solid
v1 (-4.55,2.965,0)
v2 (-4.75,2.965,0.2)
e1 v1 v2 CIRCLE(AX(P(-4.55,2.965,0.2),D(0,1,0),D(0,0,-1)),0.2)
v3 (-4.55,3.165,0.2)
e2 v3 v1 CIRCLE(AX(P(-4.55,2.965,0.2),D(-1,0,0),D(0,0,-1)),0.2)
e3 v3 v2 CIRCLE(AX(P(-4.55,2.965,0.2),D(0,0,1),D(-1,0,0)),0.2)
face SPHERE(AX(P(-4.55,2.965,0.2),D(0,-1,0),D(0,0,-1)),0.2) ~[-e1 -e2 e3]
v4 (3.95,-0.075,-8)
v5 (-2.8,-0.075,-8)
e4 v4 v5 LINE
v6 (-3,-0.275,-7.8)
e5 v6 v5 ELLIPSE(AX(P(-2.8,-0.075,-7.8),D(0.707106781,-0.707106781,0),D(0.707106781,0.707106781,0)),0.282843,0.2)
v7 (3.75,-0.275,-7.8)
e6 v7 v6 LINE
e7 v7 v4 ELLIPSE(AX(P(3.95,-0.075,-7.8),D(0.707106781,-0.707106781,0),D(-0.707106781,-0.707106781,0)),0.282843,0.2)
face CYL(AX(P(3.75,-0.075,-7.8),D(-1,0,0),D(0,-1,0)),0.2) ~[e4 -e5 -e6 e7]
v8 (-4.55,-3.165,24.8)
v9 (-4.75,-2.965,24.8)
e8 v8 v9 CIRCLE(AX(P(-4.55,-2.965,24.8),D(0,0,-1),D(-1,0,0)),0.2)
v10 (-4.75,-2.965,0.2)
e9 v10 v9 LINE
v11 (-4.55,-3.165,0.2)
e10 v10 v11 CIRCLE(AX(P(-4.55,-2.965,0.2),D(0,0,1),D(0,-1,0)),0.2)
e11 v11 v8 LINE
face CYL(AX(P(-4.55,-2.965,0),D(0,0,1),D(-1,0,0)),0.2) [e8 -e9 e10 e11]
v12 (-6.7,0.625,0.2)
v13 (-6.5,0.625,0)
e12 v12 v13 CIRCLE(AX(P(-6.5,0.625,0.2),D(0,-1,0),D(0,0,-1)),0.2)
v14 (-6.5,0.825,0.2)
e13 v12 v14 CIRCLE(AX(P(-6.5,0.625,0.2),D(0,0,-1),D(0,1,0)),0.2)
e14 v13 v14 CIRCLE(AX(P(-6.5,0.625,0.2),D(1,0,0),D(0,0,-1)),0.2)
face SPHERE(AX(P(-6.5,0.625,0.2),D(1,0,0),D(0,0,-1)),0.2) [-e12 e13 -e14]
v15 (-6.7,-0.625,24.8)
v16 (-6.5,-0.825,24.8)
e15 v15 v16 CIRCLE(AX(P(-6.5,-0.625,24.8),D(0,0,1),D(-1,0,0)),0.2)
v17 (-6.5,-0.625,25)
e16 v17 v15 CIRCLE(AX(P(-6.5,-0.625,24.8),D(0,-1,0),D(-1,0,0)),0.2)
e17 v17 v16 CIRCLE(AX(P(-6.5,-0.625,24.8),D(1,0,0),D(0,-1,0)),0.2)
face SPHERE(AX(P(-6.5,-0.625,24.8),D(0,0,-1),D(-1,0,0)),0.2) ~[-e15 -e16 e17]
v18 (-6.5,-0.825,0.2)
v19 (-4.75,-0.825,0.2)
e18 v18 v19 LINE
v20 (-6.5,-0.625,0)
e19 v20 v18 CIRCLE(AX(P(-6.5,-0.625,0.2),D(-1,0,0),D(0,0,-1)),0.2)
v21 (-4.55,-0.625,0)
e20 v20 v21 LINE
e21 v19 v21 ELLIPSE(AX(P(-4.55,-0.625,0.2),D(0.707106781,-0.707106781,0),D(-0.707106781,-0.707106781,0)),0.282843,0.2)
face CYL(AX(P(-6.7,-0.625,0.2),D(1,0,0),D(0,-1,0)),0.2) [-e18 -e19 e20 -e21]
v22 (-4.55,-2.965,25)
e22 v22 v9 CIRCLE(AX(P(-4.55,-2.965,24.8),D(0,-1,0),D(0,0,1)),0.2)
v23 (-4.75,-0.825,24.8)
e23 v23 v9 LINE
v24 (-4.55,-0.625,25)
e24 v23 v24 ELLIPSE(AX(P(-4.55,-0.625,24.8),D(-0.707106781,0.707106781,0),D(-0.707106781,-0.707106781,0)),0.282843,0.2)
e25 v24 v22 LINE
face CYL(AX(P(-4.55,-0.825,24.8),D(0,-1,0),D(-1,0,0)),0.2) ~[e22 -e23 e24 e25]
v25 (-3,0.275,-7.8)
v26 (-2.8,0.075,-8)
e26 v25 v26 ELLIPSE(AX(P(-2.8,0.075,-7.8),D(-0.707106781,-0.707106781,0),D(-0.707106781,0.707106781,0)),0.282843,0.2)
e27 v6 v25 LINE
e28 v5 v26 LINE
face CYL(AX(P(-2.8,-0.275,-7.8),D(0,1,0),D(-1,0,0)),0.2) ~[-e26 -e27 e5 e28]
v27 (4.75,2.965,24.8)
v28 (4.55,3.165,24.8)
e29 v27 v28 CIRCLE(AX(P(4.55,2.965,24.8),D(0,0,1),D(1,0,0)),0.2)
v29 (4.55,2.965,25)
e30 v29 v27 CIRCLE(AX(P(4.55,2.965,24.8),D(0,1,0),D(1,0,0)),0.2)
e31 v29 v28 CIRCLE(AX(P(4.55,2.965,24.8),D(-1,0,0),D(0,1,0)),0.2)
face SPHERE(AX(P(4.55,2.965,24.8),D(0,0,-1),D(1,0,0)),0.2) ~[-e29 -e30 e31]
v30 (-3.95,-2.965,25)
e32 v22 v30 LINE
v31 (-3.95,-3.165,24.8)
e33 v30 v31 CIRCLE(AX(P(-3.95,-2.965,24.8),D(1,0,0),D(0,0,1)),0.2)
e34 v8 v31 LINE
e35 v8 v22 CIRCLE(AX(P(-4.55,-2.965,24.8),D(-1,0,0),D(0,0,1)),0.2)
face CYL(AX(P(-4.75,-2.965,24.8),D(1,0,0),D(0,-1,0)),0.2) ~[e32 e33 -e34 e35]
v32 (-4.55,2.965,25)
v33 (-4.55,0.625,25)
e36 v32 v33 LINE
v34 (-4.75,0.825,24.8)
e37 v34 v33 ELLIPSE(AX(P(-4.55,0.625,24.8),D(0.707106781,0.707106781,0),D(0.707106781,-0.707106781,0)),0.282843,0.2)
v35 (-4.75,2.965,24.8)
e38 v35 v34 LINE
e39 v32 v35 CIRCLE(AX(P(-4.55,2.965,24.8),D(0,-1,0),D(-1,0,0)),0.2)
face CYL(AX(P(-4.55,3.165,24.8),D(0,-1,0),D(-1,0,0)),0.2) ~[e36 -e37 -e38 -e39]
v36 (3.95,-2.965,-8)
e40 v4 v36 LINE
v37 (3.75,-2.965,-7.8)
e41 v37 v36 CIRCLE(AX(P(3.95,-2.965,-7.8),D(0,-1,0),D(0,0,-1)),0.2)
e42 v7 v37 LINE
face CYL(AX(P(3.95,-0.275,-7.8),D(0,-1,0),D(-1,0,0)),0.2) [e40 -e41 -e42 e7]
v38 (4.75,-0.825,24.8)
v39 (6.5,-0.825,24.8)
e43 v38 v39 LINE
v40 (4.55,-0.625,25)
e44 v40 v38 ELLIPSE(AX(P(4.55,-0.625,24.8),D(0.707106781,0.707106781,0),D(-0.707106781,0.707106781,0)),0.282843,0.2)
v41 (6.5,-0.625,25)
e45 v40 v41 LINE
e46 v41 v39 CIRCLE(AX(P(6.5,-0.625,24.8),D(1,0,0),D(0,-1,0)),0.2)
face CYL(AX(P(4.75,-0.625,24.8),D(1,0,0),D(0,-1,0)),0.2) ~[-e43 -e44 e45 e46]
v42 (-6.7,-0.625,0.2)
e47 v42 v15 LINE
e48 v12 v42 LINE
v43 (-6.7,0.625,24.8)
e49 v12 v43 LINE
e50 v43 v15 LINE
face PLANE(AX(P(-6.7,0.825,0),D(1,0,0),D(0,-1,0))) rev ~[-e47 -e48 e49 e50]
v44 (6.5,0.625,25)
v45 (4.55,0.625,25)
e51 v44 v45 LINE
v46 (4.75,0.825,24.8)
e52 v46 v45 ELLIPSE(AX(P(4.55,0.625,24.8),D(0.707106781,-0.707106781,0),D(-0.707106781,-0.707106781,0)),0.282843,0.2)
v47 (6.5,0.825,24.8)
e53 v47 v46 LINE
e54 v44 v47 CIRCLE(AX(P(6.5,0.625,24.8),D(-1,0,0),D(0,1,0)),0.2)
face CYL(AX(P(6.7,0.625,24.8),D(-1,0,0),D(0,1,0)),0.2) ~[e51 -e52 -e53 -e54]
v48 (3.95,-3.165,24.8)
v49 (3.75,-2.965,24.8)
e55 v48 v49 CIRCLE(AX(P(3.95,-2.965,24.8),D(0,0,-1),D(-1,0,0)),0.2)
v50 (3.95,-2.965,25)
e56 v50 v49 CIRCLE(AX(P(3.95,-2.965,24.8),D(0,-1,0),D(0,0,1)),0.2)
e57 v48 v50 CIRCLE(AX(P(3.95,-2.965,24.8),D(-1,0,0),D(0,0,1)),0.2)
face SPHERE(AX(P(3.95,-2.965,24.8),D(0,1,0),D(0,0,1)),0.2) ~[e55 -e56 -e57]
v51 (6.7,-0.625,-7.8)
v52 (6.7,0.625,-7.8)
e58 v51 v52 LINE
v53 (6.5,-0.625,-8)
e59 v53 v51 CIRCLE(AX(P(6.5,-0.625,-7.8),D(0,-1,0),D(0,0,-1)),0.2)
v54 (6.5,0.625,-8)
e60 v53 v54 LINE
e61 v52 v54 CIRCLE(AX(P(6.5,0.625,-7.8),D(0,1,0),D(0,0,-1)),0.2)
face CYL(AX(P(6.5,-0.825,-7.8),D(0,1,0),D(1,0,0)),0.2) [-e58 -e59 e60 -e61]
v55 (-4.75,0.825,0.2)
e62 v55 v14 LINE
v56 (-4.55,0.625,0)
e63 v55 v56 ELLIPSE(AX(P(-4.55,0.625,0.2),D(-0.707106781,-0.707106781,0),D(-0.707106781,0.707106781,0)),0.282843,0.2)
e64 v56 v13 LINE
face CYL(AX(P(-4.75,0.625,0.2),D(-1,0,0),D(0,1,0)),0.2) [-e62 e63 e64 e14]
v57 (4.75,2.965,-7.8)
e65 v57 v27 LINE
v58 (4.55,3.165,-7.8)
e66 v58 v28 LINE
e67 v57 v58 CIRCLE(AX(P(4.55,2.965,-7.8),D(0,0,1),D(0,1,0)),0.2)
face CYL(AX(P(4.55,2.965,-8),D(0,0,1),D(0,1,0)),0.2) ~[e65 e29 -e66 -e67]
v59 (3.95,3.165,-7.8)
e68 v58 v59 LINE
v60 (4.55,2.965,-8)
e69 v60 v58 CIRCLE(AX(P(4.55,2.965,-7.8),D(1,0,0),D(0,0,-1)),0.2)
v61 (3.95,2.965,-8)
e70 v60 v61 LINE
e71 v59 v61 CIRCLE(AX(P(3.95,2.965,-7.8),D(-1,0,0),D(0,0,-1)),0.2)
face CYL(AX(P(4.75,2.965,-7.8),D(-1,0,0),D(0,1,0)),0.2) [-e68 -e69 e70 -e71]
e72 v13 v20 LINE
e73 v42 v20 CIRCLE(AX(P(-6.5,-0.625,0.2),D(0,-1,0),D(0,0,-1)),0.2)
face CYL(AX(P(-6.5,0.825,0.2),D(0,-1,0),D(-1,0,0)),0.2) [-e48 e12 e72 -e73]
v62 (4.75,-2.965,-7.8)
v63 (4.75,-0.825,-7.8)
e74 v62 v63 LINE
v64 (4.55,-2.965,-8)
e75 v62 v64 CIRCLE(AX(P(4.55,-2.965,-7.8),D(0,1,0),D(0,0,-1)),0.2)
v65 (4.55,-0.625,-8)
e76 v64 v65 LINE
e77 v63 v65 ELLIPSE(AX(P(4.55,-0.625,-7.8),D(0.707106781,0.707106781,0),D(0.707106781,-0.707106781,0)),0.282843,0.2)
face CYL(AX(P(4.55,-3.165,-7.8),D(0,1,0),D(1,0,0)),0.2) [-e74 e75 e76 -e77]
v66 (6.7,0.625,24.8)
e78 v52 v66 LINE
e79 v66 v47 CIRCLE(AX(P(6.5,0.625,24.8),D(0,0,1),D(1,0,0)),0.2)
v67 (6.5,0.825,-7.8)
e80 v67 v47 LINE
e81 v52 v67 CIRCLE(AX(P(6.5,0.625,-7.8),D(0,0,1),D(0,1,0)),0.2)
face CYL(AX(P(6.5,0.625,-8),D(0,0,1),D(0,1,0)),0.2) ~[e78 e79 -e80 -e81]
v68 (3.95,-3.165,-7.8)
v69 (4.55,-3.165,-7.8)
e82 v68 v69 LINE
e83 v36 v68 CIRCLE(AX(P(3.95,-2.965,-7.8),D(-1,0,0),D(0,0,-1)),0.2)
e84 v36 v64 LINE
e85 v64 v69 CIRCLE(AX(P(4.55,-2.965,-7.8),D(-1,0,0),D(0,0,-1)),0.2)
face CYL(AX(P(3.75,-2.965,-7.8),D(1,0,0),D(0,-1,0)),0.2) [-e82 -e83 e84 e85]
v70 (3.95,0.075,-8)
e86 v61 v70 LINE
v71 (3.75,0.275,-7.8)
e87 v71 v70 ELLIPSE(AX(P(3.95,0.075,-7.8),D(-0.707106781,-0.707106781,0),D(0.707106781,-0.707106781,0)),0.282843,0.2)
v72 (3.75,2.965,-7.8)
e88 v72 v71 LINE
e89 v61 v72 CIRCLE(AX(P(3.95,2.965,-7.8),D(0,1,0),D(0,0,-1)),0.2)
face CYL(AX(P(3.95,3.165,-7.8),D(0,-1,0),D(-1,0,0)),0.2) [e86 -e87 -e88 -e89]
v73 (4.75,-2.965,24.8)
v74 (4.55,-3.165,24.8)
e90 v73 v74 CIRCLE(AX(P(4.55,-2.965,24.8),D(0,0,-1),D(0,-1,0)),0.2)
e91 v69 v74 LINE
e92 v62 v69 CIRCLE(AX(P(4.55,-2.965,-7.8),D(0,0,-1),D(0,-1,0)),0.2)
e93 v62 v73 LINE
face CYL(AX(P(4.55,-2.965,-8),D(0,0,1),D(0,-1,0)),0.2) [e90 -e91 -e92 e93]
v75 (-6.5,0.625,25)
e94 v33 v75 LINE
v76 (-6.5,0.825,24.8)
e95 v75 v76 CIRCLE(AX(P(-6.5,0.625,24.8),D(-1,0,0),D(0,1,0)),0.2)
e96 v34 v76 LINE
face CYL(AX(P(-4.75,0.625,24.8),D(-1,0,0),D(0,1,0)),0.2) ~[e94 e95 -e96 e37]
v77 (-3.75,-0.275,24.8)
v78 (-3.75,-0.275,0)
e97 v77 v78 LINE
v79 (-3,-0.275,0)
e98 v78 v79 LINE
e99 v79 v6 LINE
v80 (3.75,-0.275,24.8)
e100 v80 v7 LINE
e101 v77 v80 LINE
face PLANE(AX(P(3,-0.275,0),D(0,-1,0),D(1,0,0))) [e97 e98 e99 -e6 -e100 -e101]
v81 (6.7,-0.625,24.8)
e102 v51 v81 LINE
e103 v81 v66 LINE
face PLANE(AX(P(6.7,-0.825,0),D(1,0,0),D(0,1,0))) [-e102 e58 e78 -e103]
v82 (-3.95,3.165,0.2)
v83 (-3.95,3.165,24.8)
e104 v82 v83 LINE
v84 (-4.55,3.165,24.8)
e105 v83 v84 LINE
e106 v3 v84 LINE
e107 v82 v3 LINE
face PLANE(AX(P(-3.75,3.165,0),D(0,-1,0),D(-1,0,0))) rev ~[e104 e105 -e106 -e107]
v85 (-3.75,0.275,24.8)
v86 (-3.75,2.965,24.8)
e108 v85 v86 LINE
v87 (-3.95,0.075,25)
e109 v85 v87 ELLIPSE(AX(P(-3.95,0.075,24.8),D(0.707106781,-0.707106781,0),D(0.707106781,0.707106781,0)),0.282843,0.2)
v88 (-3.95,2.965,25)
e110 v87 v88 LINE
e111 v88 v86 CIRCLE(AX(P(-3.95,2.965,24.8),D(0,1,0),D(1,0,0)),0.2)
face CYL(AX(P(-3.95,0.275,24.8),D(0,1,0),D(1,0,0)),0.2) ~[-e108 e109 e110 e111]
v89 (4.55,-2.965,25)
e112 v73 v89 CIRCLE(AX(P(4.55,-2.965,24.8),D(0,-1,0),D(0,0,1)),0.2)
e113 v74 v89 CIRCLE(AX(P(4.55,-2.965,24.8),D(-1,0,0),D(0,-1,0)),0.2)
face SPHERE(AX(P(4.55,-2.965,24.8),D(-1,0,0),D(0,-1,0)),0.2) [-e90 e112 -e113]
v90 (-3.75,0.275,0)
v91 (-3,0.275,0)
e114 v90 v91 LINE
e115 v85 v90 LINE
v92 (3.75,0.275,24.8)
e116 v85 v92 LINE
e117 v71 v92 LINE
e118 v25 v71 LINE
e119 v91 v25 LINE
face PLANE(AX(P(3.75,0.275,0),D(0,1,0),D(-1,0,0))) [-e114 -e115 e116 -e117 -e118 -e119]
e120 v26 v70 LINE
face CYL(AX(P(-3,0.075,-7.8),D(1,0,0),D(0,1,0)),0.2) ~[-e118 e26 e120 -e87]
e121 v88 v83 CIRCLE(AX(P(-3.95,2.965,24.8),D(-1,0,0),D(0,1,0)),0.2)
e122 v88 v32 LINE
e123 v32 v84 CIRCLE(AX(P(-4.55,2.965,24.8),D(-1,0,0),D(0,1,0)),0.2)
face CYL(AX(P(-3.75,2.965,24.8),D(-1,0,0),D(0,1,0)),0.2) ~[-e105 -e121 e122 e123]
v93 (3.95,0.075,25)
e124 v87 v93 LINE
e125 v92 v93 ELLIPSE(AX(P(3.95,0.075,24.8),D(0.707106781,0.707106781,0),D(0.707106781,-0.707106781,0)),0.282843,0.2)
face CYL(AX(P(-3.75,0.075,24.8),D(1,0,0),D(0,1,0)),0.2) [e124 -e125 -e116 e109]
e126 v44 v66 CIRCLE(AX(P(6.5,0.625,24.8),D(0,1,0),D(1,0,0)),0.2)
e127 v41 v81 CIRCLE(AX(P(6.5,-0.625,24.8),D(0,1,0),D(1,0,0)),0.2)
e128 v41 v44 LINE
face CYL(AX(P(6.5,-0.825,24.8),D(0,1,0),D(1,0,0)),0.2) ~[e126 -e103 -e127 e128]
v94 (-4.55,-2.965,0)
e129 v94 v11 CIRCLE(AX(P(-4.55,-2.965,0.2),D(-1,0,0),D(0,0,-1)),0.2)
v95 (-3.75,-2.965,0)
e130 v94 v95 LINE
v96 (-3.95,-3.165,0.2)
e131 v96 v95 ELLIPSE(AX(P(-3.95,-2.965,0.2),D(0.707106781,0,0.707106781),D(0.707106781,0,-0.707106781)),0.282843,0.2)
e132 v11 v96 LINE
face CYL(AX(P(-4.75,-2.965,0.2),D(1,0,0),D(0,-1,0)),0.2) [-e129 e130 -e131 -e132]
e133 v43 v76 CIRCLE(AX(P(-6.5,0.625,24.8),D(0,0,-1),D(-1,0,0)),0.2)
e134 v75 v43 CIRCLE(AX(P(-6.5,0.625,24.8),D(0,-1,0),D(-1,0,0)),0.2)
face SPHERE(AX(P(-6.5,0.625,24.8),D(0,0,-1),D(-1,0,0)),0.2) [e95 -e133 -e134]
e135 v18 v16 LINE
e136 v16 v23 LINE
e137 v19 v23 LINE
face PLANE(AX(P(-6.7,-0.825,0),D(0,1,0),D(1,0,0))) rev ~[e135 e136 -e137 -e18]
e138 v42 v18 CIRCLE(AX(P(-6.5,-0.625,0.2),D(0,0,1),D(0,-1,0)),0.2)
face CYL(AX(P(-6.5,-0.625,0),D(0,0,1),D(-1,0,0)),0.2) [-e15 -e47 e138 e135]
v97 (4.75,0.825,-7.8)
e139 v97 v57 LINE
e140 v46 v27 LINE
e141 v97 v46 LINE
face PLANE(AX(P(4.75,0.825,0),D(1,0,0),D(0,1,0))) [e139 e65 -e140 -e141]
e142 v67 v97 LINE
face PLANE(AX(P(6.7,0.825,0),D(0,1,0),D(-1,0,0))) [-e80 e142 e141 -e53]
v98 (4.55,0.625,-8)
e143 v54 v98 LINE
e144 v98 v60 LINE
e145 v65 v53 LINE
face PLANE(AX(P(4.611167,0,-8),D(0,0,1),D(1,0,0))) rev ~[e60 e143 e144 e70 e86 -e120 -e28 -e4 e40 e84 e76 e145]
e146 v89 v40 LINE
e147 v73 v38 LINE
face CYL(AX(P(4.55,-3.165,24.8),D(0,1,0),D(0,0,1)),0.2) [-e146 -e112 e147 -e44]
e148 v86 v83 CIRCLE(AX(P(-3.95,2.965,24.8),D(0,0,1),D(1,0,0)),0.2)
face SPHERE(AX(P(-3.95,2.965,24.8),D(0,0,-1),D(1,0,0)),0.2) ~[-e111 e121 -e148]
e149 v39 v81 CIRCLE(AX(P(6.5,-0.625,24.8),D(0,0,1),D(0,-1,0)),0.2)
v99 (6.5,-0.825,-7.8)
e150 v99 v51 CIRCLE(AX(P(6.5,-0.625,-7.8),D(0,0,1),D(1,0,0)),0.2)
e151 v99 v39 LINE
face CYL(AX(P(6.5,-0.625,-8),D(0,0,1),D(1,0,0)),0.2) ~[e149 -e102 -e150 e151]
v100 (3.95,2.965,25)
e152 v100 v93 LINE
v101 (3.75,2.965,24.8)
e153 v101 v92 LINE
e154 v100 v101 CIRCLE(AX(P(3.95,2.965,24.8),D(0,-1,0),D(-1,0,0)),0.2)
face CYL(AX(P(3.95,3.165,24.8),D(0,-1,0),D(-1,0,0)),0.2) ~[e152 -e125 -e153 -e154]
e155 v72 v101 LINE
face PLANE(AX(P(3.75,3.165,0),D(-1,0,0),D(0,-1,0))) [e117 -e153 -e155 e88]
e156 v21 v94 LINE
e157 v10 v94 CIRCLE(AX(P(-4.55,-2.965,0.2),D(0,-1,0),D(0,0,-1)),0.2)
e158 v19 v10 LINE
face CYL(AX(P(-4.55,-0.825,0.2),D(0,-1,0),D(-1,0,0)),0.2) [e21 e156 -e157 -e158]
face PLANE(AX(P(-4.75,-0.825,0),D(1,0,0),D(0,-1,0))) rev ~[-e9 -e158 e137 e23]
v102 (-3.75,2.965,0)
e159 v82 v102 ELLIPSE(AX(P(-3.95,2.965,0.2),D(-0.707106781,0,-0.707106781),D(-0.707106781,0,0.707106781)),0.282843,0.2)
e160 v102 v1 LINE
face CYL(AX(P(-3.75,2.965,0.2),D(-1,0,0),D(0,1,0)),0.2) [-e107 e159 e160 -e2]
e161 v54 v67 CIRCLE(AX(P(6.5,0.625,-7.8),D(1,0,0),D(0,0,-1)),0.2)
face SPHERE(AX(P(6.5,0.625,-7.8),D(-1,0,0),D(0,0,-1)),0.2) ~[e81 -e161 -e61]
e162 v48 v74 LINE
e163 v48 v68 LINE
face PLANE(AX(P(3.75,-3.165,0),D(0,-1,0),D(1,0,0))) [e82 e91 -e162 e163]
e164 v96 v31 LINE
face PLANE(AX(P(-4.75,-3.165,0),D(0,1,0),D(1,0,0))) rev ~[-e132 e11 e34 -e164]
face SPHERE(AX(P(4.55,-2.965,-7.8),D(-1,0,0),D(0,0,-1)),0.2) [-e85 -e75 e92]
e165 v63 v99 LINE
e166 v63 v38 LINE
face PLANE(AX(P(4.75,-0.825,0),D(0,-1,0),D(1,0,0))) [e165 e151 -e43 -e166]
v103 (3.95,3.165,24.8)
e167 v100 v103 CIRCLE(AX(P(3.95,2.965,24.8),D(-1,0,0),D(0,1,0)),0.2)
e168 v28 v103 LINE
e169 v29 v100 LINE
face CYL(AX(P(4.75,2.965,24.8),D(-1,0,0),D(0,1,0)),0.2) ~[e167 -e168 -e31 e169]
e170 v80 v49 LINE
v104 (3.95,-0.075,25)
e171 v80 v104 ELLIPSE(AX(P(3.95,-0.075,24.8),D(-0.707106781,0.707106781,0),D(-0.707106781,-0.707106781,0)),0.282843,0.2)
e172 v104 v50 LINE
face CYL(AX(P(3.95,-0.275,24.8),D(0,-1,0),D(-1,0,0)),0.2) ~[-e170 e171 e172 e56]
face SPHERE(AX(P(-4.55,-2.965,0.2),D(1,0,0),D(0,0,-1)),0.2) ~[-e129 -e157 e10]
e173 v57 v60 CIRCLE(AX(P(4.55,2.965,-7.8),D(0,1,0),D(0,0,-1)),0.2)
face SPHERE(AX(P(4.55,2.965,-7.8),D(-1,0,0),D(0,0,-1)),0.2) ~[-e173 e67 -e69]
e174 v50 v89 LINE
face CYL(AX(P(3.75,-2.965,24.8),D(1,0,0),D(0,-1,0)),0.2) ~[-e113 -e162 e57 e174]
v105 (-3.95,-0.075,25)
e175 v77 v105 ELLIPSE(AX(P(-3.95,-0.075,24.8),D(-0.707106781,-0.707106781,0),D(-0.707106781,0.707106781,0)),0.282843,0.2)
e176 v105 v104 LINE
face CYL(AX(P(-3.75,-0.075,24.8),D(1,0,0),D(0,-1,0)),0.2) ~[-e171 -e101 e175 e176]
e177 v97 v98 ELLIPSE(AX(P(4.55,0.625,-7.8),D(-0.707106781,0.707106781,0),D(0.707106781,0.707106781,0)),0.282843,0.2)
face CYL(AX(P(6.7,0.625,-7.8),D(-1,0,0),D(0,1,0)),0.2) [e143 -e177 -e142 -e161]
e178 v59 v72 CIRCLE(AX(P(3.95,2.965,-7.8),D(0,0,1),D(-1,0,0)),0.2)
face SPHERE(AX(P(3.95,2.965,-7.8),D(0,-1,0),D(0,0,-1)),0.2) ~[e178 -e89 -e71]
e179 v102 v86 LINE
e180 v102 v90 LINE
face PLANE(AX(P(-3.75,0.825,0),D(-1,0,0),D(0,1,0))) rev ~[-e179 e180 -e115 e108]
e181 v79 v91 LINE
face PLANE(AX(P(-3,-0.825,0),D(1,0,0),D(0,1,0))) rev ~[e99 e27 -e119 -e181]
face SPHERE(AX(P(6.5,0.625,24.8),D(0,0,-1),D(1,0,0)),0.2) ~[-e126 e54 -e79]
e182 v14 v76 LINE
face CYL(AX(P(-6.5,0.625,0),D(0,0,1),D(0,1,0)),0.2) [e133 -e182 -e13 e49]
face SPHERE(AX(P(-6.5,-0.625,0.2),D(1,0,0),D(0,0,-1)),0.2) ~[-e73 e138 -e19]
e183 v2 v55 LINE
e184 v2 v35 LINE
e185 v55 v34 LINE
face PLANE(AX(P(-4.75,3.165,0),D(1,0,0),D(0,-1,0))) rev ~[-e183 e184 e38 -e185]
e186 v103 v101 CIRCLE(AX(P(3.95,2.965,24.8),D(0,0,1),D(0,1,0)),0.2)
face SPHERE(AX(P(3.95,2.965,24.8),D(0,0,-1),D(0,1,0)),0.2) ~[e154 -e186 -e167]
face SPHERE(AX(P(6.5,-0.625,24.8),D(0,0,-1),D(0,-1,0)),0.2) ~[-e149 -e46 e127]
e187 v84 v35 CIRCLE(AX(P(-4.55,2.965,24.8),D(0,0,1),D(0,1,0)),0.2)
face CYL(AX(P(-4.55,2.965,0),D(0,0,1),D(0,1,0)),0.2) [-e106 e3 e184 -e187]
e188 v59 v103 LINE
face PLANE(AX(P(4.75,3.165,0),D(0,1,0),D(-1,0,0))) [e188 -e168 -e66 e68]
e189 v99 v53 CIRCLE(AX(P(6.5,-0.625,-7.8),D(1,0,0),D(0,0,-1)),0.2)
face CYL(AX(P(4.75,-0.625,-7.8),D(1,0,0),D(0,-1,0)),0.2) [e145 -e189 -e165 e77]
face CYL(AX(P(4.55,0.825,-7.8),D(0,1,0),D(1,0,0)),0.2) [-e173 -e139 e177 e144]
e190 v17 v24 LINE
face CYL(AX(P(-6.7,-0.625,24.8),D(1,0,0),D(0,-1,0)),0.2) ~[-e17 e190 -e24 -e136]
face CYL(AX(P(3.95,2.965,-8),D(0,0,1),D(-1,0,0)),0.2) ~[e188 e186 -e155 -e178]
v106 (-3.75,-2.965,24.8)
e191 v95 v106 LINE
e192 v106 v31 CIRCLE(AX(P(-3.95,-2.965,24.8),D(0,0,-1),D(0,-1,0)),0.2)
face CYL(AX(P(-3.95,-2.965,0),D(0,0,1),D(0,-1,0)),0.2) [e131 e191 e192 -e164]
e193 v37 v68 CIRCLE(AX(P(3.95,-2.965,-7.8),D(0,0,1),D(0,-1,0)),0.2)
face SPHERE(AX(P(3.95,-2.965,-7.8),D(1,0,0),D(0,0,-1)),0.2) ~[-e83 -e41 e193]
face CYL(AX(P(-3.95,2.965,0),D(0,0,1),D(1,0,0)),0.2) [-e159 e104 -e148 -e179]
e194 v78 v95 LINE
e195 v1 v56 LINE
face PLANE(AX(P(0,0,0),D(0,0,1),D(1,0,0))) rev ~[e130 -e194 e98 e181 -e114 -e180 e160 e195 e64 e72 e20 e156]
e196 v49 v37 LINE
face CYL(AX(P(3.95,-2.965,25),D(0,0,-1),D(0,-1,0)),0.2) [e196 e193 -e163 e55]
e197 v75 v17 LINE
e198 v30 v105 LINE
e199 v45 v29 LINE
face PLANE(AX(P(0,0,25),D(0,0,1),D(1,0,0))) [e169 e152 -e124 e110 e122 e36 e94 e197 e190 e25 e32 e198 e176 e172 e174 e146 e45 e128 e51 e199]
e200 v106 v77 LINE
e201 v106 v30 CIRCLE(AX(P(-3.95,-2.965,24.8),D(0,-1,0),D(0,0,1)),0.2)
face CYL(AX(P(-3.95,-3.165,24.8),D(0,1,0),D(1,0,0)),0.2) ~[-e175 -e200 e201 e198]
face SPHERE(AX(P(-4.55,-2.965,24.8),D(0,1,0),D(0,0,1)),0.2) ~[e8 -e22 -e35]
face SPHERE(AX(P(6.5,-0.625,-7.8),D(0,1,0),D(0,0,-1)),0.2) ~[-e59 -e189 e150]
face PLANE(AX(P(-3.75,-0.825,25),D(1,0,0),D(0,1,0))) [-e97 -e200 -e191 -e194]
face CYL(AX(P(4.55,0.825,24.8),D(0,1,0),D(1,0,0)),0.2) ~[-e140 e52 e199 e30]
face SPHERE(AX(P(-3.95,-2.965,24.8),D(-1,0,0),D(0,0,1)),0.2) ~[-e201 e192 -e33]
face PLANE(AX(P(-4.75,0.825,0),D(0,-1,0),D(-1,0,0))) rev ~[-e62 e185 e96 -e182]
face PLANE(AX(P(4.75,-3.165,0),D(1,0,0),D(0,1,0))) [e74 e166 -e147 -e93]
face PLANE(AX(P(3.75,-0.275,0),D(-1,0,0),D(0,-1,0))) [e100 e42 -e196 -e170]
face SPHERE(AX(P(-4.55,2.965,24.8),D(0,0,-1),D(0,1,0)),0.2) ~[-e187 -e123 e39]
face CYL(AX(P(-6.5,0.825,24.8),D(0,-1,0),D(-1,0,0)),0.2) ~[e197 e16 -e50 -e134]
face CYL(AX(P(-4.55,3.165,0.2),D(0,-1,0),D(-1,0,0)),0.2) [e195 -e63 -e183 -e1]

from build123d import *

# Parameters (mm, degrees)
AUFSATZ_LINEAR_AUSTRAGEN1_DEPTH = 25
SKIZZE2_W                       = 6
SKIZZE2_H                       = 1.65
AUFSATZ_LINEAR_AUSTRAGEN2_DEPTH = 8
SKIZZE3_W                       = 7.5
SKIZZE3_H                       = 0.55
SCHNITT_LINEAR_AUSTRAGEN1_DEPTH = 34
AUFSATZ_LINEAR_AUSTRAGEN3_DEPTH = 8
VERRUNDUNG1_R                   = 0.2


with BuildPart() as part:
    # Skizze1 → Aufsatz-Linear austragen1 (new body)
    with BuildSketch(Plane.XY):
        Polygon((-4.75, 0.825), (-6.7, 0.825), (-6.7, -0.825), (-4.75, -0.825), (-4.75, -3.165), (-3.75, -3.165), (-3.75, -0.825), (3.75, -0.825), (3.75, -3.165), (4.75, -3.165), (4.75, -0.825), (6.7, -0.825), (6.7, 0.825), (4.75, 0.825), (4.75, 3.165), (3.75, 3.165), (3.75, 0.825), (-3.75, 0.825), (-3.75, 3.165), (-4.75, 3.165), align=None)
    extrude(amount=AUFSATZ_LINEAR_AUSTRAGEN1_DEPTH)

    # Skizze2 → Aufsatz-Linear austragen2 (add)
    with BuildSketch(Plane(origin=(0, 0, 0), x_dir=(-1, 0, 0), z_dir=(0, 0, -1))):
        Rectangle(SKIZZE2_W, SKIZZE2_H)
    extrude(amount=AUFSATZ_LINEAR_AUSTRAGEN2_DEPTH)

    # Skizze3 → Schnitt-Linear austragen1 (cut, through all)
    with BuildSketch(Plane.XY.offset(25)):
        with Locations((0, -0.55)):
            Rectangle(SKIZZE3_W, SKIZZE3_H)
        with Locations((0, 0.55)):
            Rectangle(SKIZZE3_W, SKIZZE3_H)
    extrude(amount=-SCHNITT_LINEAR_AUSTRAGEN1_DEPTH, mode=Mode.SUBTRACT)

    # Skizze4 → Aufsatz-Linear austragen3 (add)
    with BuildSketch(Plane(origin=(0, 0, 0), x_dir=(-1, 0, 0), z_dir=(0, 0, -1))):
        Polygon((-3.75, -3.165), (-4.75, -3.165), (-4.75, -0.825), (-6.7, -0.825), (-6.7, 0.825), (-4.75, 0.825), (-4.75, 3.165), (-3.75, 3.165), (-3.75, 0.275), (-3, 0.275), (-3, -0.275), (-3.75, -0.275), align=None)
    extrude(amount=AUFSATZ_LINEAR_AUSTRAGEN3_DEPTH)

    # Verrundung1
    verrundung1_edges = [part.edges().sort_by_distance(p)[0] for p in [
        (4.25, -3.165, -8),
        (3.75, -1.72, -8),
        (3.75, 1.72, -8),
        (4.25, 3.165, -8),
        (4.75, 1.995, -8),
        (5.725, 0.825, -8),
        (6.7, 0, -8),
        (5.725, -0.825, -8),
        (4.75, -1.995, -8),
        (-4.75, -1.995, 25),
        (-4.25, -3.165, 25),
        (-5.725, 0.825, 0),
        (-4.75, 1.995, 0),
        (-4.25, 3.165, 0),
        (-3.75, -1.72, 25),
        (-4.25, -3.165, 0),
        (-4.75, -1.995, 0),
        (-5.725, -0.825, 0),
        (-6.7, 0, 0),
        (3.75, -1.72, 25),
        (4.25, -3.165, 25),
        (-6.7, 0.825, 12.5),
        (-4.75, 3.165, 12.5),
        (-3.75, 3.165, 12.5),
        (3.75, 3.165, 8.5),
        (4.75, 3.165, 8.5),
        (6.7, 0.825, 8.5),
        (6.7, -0.825, 8.5),
        (4.75, -3.165, 8.5),
        (3.75, -3.165, 8.5),
        (-3.75, -3.165, 12.5),
        (-4.75, -3.165, 12.5),
        (-6.7, -0.825, 12.5),
        (4.75, -1.995, 25),
        (5.725, -0.825, 25),
        (6.7, 0, 25),
        (5.725, 0.825, 25),
        (-6.7, 0, 25),
        (4.75, 1.995, 25),
        (4.25, 3.165, 25),
        (3.75, 1.72, 25),
        (-3.75, 1.72, 25),
        (-3, 0, -8),
        (0.375, 0.275, -8),
        (0.375, -0.275, -8),
        (-4.25, 3.165, 25),
        (-4.75, 1.995, 25),
        (-5.725, 0.825, 25),
        (0, -0.275, 25),
        (-5.725, -0.825, 25),
        (0, 0.275, 25),
    ]]
    fillet(verrundung1_edges, radius=VERRUNDUNG1_R)


solid = part.part
